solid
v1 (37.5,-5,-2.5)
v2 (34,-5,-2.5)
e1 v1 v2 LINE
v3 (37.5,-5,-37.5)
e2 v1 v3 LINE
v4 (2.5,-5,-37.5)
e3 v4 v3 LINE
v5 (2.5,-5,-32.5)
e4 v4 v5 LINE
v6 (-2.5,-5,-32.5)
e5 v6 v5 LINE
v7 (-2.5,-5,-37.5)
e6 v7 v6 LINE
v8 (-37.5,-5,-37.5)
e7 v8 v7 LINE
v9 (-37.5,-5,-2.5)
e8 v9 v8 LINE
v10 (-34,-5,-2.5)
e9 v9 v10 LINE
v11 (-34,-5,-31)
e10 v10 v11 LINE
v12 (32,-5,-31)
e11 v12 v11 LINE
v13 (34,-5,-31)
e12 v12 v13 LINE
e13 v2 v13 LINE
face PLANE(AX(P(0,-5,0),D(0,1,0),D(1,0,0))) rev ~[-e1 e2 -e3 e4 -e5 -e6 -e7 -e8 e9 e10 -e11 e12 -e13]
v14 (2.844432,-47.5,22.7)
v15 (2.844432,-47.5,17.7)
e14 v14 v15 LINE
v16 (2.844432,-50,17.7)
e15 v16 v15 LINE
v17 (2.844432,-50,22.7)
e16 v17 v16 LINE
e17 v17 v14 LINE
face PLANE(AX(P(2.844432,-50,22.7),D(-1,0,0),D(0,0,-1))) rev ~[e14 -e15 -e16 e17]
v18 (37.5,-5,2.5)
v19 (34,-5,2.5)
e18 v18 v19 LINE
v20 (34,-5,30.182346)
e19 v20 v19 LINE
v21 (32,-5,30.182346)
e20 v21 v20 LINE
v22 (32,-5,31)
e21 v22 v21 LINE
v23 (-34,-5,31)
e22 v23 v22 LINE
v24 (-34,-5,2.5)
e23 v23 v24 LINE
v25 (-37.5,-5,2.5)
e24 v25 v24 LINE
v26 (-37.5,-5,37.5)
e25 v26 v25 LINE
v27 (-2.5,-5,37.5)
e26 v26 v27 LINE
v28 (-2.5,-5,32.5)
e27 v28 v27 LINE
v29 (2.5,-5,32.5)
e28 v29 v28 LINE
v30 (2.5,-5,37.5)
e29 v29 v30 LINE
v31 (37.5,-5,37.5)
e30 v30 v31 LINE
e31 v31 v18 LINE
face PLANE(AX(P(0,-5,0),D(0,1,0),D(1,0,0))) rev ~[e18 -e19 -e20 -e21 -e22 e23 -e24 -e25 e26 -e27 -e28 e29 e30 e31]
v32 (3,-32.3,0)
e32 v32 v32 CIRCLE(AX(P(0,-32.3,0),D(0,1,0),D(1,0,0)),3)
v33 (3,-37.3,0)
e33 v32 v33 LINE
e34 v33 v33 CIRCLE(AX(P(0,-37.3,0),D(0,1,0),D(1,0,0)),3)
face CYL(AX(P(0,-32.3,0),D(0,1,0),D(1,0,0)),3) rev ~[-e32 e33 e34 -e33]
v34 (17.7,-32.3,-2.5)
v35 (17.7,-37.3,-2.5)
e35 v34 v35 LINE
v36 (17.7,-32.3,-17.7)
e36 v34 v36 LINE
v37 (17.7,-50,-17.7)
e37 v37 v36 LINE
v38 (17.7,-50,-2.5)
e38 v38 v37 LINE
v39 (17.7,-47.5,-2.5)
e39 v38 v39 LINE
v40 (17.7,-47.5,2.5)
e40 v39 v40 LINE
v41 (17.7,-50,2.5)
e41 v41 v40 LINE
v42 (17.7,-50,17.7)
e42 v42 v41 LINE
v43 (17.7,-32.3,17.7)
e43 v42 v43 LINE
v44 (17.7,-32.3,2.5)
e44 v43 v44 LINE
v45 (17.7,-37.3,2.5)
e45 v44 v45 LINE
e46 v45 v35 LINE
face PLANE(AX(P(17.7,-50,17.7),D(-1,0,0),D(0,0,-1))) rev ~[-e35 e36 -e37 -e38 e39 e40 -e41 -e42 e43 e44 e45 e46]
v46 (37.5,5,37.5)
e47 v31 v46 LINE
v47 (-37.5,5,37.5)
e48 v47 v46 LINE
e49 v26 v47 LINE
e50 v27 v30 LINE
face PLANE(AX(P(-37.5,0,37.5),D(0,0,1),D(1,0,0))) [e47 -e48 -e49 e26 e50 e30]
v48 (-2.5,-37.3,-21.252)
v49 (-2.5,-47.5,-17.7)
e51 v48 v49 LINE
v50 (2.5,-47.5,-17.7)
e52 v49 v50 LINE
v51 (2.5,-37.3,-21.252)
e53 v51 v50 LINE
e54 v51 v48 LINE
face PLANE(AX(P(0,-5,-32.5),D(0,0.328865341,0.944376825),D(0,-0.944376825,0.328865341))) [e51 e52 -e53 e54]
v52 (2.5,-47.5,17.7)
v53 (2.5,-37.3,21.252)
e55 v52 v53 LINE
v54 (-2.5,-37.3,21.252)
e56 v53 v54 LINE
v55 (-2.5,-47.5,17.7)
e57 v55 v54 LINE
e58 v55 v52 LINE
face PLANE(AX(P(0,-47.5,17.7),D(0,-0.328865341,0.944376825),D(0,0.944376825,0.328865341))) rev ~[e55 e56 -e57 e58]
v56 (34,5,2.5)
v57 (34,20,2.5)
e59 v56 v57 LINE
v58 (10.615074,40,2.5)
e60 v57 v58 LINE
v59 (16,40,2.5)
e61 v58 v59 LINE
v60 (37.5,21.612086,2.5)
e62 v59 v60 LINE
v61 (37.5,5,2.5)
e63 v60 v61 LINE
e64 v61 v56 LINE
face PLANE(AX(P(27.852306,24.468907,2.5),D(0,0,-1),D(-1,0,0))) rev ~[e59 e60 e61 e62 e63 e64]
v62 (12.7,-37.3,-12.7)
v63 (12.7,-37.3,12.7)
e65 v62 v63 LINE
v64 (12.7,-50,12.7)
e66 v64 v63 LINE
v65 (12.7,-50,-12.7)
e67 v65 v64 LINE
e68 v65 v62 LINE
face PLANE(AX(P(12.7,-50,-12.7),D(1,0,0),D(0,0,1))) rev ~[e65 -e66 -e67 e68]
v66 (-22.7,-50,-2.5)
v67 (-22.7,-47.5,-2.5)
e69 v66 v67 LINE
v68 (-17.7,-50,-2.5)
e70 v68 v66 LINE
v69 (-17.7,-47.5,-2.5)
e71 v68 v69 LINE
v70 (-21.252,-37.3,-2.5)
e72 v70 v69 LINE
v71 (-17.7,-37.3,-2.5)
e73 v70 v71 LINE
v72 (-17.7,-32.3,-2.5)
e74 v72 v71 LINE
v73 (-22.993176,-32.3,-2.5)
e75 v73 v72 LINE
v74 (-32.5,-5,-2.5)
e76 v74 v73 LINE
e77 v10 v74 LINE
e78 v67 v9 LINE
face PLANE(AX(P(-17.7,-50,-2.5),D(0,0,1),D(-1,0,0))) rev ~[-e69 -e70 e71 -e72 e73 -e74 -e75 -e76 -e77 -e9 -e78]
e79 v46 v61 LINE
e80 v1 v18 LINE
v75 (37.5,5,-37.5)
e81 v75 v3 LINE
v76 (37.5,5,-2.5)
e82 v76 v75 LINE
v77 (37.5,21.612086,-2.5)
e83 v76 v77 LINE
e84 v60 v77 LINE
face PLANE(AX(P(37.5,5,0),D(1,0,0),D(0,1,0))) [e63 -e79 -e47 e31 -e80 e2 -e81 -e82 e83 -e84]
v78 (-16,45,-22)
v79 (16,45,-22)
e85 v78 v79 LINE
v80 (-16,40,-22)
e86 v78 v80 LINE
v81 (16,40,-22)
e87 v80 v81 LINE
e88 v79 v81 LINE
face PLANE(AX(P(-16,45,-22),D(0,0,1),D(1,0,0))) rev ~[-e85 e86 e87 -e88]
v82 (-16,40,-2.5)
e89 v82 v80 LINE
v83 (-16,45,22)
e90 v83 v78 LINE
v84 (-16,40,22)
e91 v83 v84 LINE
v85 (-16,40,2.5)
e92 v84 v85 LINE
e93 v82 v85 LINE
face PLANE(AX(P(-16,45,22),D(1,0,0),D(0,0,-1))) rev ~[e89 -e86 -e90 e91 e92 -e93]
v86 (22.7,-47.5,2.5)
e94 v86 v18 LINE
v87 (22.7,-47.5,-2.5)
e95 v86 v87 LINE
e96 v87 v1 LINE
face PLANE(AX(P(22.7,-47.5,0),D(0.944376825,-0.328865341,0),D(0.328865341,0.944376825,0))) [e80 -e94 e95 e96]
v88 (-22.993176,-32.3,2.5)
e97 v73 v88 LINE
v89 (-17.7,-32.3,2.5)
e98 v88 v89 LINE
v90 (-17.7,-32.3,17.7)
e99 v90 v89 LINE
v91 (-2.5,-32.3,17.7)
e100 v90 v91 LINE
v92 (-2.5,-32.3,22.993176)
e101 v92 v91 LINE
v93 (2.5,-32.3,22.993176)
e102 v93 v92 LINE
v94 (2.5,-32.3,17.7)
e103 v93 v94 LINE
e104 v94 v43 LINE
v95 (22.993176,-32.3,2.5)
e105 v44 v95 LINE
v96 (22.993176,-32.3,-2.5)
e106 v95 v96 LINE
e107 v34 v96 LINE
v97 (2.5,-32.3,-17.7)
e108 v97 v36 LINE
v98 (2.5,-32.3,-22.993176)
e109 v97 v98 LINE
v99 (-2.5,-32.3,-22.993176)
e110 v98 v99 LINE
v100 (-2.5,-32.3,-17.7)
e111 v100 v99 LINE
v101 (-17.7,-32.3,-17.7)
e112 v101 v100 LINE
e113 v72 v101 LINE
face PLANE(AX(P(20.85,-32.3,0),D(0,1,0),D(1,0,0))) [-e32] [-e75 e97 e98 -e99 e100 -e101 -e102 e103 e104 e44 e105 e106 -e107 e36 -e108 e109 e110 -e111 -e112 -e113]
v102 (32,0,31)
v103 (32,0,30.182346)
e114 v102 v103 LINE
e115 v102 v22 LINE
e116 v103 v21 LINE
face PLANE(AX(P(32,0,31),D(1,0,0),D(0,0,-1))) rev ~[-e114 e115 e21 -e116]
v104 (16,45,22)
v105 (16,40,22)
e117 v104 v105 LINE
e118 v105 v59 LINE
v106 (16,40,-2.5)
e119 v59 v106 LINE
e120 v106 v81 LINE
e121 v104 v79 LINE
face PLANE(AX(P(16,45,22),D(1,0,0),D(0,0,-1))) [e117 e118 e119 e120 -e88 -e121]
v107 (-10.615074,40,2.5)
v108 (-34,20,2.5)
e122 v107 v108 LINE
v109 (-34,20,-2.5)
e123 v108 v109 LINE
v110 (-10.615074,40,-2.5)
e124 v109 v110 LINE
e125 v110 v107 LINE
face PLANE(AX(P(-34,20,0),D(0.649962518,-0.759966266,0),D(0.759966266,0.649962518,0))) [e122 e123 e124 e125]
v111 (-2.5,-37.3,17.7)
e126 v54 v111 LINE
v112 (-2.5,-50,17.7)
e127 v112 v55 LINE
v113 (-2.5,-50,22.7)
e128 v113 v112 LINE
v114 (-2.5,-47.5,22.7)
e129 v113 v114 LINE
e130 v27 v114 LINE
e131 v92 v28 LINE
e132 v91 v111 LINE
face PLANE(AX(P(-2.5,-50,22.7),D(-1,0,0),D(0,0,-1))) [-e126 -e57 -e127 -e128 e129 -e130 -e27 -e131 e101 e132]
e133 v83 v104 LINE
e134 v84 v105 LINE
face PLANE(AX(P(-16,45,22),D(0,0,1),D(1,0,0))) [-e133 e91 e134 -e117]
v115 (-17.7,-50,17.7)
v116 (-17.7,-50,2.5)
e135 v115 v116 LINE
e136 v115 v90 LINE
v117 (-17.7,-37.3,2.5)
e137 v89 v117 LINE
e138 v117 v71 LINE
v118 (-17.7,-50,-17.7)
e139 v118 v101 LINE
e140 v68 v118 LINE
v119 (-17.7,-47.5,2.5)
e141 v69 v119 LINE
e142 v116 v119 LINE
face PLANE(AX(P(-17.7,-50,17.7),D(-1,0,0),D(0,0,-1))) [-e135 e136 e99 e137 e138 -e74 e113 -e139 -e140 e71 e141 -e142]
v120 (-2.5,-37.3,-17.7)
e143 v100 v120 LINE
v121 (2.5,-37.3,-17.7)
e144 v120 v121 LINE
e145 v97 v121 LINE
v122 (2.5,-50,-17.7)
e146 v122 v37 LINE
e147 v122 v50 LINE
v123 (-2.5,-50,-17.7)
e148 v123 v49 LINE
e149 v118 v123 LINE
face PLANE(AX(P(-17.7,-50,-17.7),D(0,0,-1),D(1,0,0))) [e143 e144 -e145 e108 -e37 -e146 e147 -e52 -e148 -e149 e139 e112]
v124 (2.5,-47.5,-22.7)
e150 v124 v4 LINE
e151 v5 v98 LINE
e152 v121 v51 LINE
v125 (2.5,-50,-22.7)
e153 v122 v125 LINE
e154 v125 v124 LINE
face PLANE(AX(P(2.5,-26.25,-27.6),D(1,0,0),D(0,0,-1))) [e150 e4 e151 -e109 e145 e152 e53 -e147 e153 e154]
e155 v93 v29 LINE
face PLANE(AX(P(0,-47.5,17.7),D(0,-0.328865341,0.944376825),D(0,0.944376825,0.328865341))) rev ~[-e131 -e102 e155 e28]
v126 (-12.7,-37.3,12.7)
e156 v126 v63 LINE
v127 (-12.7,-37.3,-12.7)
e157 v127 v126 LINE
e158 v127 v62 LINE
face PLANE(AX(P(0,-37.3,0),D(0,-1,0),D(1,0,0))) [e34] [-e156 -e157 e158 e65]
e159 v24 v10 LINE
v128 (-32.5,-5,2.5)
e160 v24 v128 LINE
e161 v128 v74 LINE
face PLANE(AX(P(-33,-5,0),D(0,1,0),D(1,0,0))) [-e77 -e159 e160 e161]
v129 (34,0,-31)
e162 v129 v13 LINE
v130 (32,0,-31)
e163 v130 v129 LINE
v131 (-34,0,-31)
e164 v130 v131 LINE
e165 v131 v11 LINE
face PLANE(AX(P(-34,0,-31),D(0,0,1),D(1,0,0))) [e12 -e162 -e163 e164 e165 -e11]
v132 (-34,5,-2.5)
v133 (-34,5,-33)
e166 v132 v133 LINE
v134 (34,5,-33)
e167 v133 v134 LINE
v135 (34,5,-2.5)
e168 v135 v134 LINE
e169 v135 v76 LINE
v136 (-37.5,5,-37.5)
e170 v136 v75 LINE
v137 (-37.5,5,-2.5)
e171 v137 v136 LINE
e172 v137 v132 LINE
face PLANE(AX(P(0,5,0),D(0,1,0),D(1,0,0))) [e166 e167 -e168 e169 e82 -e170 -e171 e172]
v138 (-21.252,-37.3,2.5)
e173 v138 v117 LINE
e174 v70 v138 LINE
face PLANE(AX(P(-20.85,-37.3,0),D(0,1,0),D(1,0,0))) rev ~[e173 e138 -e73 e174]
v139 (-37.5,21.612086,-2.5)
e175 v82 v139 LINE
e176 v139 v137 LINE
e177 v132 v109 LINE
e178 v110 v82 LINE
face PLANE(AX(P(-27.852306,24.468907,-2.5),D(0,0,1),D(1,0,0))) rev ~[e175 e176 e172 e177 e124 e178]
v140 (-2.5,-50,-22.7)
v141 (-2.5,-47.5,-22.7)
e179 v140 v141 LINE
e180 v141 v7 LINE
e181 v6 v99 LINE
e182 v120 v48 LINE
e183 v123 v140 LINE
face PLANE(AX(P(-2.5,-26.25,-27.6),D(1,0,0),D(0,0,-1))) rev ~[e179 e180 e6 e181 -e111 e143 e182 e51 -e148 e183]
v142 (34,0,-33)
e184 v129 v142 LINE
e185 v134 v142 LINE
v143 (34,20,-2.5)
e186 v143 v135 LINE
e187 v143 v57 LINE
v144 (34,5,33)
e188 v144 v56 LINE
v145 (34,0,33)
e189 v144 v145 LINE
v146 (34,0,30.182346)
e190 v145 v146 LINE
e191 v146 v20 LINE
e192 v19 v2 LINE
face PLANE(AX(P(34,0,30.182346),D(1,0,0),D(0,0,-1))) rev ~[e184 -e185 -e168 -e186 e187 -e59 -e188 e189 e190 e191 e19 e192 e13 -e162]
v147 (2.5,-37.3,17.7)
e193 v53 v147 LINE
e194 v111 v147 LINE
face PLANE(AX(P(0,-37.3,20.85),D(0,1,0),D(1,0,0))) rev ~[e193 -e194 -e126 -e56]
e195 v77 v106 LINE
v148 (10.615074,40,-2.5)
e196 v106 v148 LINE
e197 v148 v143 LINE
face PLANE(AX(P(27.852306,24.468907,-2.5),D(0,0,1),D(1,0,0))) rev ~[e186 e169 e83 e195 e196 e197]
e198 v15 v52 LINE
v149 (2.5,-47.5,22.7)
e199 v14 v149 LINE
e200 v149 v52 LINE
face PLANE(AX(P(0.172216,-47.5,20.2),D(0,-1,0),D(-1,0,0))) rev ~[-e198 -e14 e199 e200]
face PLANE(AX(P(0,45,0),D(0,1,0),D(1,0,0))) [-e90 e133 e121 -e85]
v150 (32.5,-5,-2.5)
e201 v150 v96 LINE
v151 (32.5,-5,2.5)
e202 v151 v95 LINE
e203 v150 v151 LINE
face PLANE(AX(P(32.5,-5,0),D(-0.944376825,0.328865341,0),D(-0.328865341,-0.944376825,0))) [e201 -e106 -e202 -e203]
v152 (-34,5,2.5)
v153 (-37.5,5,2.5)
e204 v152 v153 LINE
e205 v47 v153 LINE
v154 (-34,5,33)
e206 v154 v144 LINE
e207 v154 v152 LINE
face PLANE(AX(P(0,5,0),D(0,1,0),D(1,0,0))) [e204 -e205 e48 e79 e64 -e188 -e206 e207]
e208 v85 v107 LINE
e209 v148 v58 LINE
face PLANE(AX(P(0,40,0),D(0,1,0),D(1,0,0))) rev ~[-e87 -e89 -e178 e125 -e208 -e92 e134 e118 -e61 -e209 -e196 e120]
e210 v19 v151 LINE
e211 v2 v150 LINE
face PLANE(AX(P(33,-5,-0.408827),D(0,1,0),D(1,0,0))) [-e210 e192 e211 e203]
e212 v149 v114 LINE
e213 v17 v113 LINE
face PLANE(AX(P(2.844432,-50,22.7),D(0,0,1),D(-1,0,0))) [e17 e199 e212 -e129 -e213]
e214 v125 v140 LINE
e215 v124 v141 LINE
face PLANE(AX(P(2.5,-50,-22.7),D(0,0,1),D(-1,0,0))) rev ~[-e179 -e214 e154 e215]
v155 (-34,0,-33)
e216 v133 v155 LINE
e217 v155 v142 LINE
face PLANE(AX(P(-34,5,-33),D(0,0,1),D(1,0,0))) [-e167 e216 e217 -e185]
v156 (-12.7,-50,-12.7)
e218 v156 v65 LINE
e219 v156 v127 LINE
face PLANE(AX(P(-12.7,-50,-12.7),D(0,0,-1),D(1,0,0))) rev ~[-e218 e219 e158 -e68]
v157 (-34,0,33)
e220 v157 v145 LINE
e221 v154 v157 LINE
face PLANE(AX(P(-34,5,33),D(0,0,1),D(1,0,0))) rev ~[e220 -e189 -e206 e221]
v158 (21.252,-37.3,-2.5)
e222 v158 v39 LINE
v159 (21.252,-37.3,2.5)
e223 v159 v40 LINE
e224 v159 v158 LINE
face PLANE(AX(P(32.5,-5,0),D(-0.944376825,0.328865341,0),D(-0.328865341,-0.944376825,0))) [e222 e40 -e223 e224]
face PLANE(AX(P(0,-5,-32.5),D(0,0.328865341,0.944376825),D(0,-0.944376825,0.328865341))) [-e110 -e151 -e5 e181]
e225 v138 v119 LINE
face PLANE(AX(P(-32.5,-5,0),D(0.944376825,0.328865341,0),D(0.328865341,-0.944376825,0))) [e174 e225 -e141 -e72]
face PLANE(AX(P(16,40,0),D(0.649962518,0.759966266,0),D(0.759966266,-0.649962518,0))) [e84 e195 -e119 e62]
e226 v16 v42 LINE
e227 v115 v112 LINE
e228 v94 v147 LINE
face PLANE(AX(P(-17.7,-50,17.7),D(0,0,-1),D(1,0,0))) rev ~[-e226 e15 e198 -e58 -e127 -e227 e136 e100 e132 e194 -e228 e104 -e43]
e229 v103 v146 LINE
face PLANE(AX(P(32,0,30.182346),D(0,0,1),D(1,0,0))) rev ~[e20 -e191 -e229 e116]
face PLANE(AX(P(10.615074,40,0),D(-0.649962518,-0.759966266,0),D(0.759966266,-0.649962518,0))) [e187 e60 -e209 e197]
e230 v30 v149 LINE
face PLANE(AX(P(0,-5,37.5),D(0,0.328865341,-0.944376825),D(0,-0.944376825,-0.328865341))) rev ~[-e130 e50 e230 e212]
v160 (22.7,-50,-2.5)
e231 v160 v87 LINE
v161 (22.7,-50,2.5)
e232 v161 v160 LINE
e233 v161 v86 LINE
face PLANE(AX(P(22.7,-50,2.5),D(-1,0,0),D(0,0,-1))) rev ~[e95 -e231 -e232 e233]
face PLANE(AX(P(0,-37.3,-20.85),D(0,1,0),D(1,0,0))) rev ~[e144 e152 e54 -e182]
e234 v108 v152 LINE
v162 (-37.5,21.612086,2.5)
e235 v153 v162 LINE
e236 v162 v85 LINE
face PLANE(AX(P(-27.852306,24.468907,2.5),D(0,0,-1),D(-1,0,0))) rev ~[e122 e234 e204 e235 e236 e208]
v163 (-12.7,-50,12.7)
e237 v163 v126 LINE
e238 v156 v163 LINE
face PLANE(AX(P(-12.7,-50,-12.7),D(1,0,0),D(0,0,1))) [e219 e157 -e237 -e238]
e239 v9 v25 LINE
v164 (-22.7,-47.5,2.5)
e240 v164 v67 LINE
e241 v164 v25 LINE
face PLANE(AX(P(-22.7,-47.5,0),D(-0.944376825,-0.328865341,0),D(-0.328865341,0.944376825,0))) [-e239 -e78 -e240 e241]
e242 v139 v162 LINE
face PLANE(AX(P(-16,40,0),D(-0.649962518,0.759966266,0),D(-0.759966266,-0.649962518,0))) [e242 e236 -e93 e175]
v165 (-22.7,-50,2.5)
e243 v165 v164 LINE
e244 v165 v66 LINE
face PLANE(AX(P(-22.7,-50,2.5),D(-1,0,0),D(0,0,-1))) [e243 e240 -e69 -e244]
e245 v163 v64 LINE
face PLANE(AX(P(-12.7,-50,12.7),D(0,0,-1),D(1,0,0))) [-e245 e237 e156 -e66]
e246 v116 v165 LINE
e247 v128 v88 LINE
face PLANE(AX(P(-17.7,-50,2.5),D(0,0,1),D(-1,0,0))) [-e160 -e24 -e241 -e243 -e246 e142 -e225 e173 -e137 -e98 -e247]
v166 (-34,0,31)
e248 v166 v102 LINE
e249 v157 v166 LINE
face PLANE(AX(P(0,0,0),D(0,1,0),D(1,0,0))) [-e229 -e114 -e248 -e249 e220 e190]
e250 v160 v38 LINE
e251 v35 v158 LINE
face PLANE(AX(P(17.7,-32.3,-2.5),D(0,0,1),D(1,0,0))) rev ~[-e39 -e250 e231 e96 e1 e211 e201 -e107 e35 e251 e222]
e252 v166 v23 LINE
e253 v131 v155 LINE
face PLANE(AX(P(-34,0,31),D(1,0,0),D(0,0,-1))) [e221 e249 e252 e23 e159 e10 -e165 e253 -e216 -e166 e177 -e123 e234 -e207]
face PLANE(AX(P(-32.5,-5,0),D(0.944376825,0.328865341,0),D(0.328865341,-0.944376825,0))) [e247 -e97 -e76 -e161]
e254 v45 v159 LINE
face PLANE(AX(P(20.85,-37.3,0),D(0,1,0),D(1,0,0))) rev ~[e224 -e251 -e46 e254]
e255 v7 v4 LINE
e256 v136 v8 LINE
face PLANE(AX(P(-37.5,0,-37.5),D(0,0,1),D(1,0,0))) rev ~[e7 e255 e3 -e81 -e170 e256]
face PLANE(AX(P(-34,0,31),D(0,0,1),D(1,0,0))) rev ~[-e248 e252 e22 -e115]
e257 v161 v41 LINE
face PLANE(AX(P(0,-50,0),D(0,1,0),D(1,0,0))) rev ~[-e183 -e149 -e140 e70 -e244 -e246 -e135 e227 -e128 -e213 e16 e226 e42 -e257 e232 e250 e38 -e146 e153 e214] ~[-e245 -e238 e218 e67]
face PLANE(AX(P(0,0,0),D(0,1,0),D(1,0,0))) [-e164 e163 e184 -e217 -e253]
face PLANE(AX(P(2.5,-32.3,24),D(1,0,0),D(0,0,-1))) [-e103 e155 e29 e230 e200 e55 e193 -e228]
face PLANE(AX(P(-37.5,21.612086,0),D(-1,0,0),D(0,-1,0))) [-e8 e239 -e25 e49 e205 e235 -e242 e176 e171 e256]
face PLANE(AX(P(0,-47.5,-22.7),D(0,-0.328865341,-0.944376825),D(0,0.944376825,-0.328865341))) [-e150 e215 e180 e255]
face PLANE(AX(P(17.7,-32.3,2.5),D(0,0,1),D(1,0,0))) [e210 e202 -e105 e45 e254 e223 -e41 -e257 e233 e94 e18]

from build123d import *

# Parameters (mm, degrees)
SKETCH2_W                   = 75
SKETCH2_H                   = 75
BOSS_EXTRUDE1_DEPTH         = 5
SKETCH2_2_W                 = 75
SKETCH2_2_H                 = 75
BOSS_EXTRUDE2_DEPTH         = 5
SKETCH4_W                   = 68
SKETCH4_H                   = 66
CUT_EXTRUDE1_DEPTH          = 5
SKETCH5_W                   = 64
SKETCH5_H                   = 62
CUT_EXTRUDE2_DEPTH          = 5
SKETCH14_W                  = 35.4
SKETCH14_H                  = 35.4
BOSS_EXTRUDE9_DEPTH         = 17.7
SKETCH15_W                  = 25.4
SKETCH15_H                  = 25.4
CUT_EXTRUDE3_DEPTH          = 12.7
SKETCH32_R                  = 3
CUT_EXTRUDE6_DEPTH          = 5
SKETCH16_W                  = 32
SKETCH16_H                  = 44
BOSS_EXTRUDE10_DEPTH        = 5
BOSS_EXTRUDE13_DEPTH        = 2.5
BOSS_EXTRUDE14_DEPTH        = 2.5
SKETCH27_W                  = 5
SKETCH27_H                  = 5
SKETCH27_W_2                = 5.344431893
EYEBOLT_BOLT_SUPPORTS_DEPTH = 2.5
BOSS_EXTRUDE15_DEPTH        = 2.5
BOSS_EXTRUDE16_DEPTH        = 2.5
BOSS_EXTRUDE17_DEPTH        = 2.5
BOSS_EXTRUDE18_DEPTH        = 2.5
SKETCH33_W                  = 6.3
SKETCH33_H                  = 5
SKETCH33_W_2                = 5
SKETCH33_H_2                = 6.3
EYEBOLT_MINI_SUPPORTS_DEPTH = 5
SKETCH34_W                  = 2
SKETCH34_H                  = 62
SKETCH34_H_2                = 61.182345807
CUT_EXTRUDE7_DEPTH          = 5


with BuildPart() as part:
    # Sketch2 → Boss-Extrude1 (new body)
    with BuildSketch(Plane(origin=(0, 0, 0), x_dir=(1, 0, 0), z_dir=(0, 1, 0))):
        Rectangle(SKETCH2_W, SKETCH2_H)
    extrude(amount=BOSS_EXTRUDE1_DEPTH)

    # Sketch2<2> → Boss-Extrude2 (add)
    with BuildSketch(Plane(origin=(0, 0, 0), x_dir=(1, 0, 0), z_dir=(0, 1, 0))):
        Rectangle(SKETCH2_2_W, SKETCH2_2_H)
    extrude(amount=-BOSS_EXTRUDE2_DEPTH)

    # Sketch4 → Cut-Extrude1 (cut)
    with BuildSketch(Plane(origin=(0, 5, 0), x_dir=(1, 0, 0), z_dir=(0, 1, 0))):
        Rectangle(SKETCH4_W, SKETCH4_H)
    extrude(amount=-CUT_EXTRUDE1_DEPTH, mode=Mode.SUBTRACT)

    # Sketch5 → Cut-Extrude2 (cut)
    with BuildSketch(Plane(origin=(0, 0, 0), x_dir=(1, 0, 0), z_dir=(0, 1, 0))):
        Rectangle(SKETCH5_W, SKETCH5_H)
    extrude(amount=-CUT_EXTRUDE2_DEPTH, mode=Mode.SUBTRACT)



with BuildPart() as body_2:
    # Sketch14 → Boss-Extrude9 (new body)
    with BuildSketch(Plane(origin=(0, -50, 0), x_dir=(1, 0, 0), z_dir=(0, 1, 0))):
        Rectangle(SKETCH14_W, SKETCH14_H)
    extrude(amount=BOSS_EXTRUDE9_DEPTH)

    # Sketch15 → Cut-Extrude3 (cut)
    with BuildSketch(Plane.XZ.offset(50)):
        Rectangle(SKETCH15_W, SKETCH15_H)
    extrude(amount=-CUT_EXTRUDE3_DEPTH, mode=Mode.SUBTRACT)

    # Sketch32 → Cut-Extrude6 (cut)
    with BuildSketch(Plane(origin=(0, -32.3, 0), x_dir=(1, 0, 0), z_dir=(0, 1, 0))):
        Circle(SKETCH32_R)
    extrude(amount=-CUT_EXTRUDE6_DEPTH, mode=Mode.SUBTRACT)

    # Sketch27 → Eyebolt Bolt Supports (add)
    with BuildSketch(Plane(origin=(0, -50, 0), x_dir=(-1, 0, 0), z_dir=(0, -1, 0))):
        with Locations((-20.2, 0)):
            Rectangle(SKETCH27_W, SKETCH27_H)
        with Locations((20.2, 0)):
            Rectangle(SKETCH27_W, SKETCH27_H)
        with Locations((-0.172215947, -20.2)):
            Rectangle(SKETCH27_W_2, SKETCH27_H)
        with Locations((0, 20.2)):
            Rectangle(SKETCH27_W, SKETCH27_H)
    extrude(amount=-EYEBOLT_BOLT_SUPPORTS_DEPTH)


with BuildPart() as body_3:
    # Sketch16 → Boss-Extrude10 (new body)
    with BuildSketch(Plane(origin=(0, 45, 0), x_dir=(1, 0, 0), z_dir=(0, 1, 0))):
        Rectangle(SKETCH16_W, SKETCH16_H)
    extrude(amount=-BOSS_EXTRUDE10_DEPTH)


with BuildPart() as part_1:
    add(part.part)

    add(body_3.part)  # Boss-Extrude13 merges body 3
    # Sketch21 → Boss-Extrude13 (add)
    with BuildSketch(Plane.XY):
        Polygon((-34, 5), (-37.5, 5), (-37.5, 21.612086276), (-16, 40), (-10.615074094, 40), (-34, 20), align=None)
        Polygon((37.5, 5), (34, 5), (34, 20), (10.615074094, 40), (16, 40), (37.5, 21.612086276), align=None)
    extrude(amount=BOSS_EXTRUDE13_DEPTH)

    # Sketch21<2> → Boss-Extrude14 (add)
    with BuildSketch(Plane.XY):
        Polygon((-34, 20), (-10.615074094, 40), (-16, 40), (-37.5, 21.612086276), (-37.5, 5), (-34, 5), align=None)
        Polygon((34, 5), (37.5, 5), (37.5, 21.612086276), (16, 40), (10.615074094, 40), (34, 20), align=None)
    extrude(amount=-BOSS_EXTRUDE14_DEPTH)


    add(body_2.part)  # Boss-Extrude15 merges body 2
    # Sketch28 → Boss-Extrude15 (add)
    with BuildSketch(Plane.XY):
        Polygon((22.7, -47.5), (37.5, -5), (32.5, -5), (17.7, -47.5), align=None)
        Polygon((-22.7, -47.5), (-37.5, -5), (-32.5, -5), (-17.7, -47.5), align=None)
    extrude(amount=BOSS_EXTRUDE15_DEPTH)

    # Sketch28<2> → Boss-Extrude16 (add)
    with BuildSketch(Plane.XY):
        Polygon((22.7, -47.5), (37.5, -5), (32.5, -5), (17.7, -47.5), align=None)
        Polygon((-22.7, -47.5), (-37.5, -5), (-32.5, -5), (-17.7, -47.5), align=None)
    extrude(amount=-BOSS_EXTRUDE16_DEPTH)

    # Sketch30 → Boss-Extrude17 (add)
    with BuildSketch(Plane(origin=(0, 0, 0), x_dir=(0, 0, -1), z_dir=(1, 0, 0))):
        Polygon((22.7, -47.5), (37.5, -5), (32.5, -5), (17.7, -47.5), align=None)
        Polygon((-37.5, -5), (-22.7, -47.5), (-17.7, -47.5), (-32.5, -5), align=None)
    extrude(amount=BOSS_EXTRUDE17_DEPTH)

    # Sketch30<2> → Boss-Extrude18 (add)
    with BuildSketch(Plane(origin=(0, 0, 0), x_dir=(0, 0, -1), z_dir=(1, 0, 0))):
        Polygon((22.7, -47.5), (37.5, -5), (32.5, -5), (17.7, -47.5), align=None)
        Polygon((-37.5, -5), (-22.7, -47.5), (-17.7, -47.5), (-32.5, -5), align=None)
    extrude(amount=-BOSS_EXTRUDE18_DEPTH)

    # Sketch33 → Eyebolt Mini Supports (add)
    with BuildSketch(Plane(origin=(0, -32.3, 0), x_dir=(1, 0, 0), z_dir=(0, 1, 0))):
        with Locations((20.85, 0)):
            Rectangle(SKETCH33_W, SKETCH33_H)
        with Locations((0, 20.85)):
            Rectangle(SKETCH33_W_2, SKETCH33_H_2)
        with Locations((-20.85, 0)):
            Rectangle(SKETCH33_W, SKETCH33_H)
        with Locations((0, -20.85)):
            Rectangle(SKETCH33_W_2, SKETCH33_H_2)
    extrude(amount=-EYEBOLT_MINI_SUPPORTS_DEPTH)

    # Sketch34 → Cut-Extrude7 (cut)
    with BuildSketch(Plane(origin=(0, 0, 0), x_dir=(1, 0, 0), z_dir=(0, 1, 0))):
        with Locations((-33, 0)):
            Rectangle(SKETCH34_W, SKETCH34_H)
        with Locations((33, 0.408827097)):
            Rectangle(SKETCH34_W, SKETCH34_H_2)
    extrude(amount=-CUT_EXTRUDE7_DEPTH, mode=Mode.SUBTRACT)


solid = part_1.part
